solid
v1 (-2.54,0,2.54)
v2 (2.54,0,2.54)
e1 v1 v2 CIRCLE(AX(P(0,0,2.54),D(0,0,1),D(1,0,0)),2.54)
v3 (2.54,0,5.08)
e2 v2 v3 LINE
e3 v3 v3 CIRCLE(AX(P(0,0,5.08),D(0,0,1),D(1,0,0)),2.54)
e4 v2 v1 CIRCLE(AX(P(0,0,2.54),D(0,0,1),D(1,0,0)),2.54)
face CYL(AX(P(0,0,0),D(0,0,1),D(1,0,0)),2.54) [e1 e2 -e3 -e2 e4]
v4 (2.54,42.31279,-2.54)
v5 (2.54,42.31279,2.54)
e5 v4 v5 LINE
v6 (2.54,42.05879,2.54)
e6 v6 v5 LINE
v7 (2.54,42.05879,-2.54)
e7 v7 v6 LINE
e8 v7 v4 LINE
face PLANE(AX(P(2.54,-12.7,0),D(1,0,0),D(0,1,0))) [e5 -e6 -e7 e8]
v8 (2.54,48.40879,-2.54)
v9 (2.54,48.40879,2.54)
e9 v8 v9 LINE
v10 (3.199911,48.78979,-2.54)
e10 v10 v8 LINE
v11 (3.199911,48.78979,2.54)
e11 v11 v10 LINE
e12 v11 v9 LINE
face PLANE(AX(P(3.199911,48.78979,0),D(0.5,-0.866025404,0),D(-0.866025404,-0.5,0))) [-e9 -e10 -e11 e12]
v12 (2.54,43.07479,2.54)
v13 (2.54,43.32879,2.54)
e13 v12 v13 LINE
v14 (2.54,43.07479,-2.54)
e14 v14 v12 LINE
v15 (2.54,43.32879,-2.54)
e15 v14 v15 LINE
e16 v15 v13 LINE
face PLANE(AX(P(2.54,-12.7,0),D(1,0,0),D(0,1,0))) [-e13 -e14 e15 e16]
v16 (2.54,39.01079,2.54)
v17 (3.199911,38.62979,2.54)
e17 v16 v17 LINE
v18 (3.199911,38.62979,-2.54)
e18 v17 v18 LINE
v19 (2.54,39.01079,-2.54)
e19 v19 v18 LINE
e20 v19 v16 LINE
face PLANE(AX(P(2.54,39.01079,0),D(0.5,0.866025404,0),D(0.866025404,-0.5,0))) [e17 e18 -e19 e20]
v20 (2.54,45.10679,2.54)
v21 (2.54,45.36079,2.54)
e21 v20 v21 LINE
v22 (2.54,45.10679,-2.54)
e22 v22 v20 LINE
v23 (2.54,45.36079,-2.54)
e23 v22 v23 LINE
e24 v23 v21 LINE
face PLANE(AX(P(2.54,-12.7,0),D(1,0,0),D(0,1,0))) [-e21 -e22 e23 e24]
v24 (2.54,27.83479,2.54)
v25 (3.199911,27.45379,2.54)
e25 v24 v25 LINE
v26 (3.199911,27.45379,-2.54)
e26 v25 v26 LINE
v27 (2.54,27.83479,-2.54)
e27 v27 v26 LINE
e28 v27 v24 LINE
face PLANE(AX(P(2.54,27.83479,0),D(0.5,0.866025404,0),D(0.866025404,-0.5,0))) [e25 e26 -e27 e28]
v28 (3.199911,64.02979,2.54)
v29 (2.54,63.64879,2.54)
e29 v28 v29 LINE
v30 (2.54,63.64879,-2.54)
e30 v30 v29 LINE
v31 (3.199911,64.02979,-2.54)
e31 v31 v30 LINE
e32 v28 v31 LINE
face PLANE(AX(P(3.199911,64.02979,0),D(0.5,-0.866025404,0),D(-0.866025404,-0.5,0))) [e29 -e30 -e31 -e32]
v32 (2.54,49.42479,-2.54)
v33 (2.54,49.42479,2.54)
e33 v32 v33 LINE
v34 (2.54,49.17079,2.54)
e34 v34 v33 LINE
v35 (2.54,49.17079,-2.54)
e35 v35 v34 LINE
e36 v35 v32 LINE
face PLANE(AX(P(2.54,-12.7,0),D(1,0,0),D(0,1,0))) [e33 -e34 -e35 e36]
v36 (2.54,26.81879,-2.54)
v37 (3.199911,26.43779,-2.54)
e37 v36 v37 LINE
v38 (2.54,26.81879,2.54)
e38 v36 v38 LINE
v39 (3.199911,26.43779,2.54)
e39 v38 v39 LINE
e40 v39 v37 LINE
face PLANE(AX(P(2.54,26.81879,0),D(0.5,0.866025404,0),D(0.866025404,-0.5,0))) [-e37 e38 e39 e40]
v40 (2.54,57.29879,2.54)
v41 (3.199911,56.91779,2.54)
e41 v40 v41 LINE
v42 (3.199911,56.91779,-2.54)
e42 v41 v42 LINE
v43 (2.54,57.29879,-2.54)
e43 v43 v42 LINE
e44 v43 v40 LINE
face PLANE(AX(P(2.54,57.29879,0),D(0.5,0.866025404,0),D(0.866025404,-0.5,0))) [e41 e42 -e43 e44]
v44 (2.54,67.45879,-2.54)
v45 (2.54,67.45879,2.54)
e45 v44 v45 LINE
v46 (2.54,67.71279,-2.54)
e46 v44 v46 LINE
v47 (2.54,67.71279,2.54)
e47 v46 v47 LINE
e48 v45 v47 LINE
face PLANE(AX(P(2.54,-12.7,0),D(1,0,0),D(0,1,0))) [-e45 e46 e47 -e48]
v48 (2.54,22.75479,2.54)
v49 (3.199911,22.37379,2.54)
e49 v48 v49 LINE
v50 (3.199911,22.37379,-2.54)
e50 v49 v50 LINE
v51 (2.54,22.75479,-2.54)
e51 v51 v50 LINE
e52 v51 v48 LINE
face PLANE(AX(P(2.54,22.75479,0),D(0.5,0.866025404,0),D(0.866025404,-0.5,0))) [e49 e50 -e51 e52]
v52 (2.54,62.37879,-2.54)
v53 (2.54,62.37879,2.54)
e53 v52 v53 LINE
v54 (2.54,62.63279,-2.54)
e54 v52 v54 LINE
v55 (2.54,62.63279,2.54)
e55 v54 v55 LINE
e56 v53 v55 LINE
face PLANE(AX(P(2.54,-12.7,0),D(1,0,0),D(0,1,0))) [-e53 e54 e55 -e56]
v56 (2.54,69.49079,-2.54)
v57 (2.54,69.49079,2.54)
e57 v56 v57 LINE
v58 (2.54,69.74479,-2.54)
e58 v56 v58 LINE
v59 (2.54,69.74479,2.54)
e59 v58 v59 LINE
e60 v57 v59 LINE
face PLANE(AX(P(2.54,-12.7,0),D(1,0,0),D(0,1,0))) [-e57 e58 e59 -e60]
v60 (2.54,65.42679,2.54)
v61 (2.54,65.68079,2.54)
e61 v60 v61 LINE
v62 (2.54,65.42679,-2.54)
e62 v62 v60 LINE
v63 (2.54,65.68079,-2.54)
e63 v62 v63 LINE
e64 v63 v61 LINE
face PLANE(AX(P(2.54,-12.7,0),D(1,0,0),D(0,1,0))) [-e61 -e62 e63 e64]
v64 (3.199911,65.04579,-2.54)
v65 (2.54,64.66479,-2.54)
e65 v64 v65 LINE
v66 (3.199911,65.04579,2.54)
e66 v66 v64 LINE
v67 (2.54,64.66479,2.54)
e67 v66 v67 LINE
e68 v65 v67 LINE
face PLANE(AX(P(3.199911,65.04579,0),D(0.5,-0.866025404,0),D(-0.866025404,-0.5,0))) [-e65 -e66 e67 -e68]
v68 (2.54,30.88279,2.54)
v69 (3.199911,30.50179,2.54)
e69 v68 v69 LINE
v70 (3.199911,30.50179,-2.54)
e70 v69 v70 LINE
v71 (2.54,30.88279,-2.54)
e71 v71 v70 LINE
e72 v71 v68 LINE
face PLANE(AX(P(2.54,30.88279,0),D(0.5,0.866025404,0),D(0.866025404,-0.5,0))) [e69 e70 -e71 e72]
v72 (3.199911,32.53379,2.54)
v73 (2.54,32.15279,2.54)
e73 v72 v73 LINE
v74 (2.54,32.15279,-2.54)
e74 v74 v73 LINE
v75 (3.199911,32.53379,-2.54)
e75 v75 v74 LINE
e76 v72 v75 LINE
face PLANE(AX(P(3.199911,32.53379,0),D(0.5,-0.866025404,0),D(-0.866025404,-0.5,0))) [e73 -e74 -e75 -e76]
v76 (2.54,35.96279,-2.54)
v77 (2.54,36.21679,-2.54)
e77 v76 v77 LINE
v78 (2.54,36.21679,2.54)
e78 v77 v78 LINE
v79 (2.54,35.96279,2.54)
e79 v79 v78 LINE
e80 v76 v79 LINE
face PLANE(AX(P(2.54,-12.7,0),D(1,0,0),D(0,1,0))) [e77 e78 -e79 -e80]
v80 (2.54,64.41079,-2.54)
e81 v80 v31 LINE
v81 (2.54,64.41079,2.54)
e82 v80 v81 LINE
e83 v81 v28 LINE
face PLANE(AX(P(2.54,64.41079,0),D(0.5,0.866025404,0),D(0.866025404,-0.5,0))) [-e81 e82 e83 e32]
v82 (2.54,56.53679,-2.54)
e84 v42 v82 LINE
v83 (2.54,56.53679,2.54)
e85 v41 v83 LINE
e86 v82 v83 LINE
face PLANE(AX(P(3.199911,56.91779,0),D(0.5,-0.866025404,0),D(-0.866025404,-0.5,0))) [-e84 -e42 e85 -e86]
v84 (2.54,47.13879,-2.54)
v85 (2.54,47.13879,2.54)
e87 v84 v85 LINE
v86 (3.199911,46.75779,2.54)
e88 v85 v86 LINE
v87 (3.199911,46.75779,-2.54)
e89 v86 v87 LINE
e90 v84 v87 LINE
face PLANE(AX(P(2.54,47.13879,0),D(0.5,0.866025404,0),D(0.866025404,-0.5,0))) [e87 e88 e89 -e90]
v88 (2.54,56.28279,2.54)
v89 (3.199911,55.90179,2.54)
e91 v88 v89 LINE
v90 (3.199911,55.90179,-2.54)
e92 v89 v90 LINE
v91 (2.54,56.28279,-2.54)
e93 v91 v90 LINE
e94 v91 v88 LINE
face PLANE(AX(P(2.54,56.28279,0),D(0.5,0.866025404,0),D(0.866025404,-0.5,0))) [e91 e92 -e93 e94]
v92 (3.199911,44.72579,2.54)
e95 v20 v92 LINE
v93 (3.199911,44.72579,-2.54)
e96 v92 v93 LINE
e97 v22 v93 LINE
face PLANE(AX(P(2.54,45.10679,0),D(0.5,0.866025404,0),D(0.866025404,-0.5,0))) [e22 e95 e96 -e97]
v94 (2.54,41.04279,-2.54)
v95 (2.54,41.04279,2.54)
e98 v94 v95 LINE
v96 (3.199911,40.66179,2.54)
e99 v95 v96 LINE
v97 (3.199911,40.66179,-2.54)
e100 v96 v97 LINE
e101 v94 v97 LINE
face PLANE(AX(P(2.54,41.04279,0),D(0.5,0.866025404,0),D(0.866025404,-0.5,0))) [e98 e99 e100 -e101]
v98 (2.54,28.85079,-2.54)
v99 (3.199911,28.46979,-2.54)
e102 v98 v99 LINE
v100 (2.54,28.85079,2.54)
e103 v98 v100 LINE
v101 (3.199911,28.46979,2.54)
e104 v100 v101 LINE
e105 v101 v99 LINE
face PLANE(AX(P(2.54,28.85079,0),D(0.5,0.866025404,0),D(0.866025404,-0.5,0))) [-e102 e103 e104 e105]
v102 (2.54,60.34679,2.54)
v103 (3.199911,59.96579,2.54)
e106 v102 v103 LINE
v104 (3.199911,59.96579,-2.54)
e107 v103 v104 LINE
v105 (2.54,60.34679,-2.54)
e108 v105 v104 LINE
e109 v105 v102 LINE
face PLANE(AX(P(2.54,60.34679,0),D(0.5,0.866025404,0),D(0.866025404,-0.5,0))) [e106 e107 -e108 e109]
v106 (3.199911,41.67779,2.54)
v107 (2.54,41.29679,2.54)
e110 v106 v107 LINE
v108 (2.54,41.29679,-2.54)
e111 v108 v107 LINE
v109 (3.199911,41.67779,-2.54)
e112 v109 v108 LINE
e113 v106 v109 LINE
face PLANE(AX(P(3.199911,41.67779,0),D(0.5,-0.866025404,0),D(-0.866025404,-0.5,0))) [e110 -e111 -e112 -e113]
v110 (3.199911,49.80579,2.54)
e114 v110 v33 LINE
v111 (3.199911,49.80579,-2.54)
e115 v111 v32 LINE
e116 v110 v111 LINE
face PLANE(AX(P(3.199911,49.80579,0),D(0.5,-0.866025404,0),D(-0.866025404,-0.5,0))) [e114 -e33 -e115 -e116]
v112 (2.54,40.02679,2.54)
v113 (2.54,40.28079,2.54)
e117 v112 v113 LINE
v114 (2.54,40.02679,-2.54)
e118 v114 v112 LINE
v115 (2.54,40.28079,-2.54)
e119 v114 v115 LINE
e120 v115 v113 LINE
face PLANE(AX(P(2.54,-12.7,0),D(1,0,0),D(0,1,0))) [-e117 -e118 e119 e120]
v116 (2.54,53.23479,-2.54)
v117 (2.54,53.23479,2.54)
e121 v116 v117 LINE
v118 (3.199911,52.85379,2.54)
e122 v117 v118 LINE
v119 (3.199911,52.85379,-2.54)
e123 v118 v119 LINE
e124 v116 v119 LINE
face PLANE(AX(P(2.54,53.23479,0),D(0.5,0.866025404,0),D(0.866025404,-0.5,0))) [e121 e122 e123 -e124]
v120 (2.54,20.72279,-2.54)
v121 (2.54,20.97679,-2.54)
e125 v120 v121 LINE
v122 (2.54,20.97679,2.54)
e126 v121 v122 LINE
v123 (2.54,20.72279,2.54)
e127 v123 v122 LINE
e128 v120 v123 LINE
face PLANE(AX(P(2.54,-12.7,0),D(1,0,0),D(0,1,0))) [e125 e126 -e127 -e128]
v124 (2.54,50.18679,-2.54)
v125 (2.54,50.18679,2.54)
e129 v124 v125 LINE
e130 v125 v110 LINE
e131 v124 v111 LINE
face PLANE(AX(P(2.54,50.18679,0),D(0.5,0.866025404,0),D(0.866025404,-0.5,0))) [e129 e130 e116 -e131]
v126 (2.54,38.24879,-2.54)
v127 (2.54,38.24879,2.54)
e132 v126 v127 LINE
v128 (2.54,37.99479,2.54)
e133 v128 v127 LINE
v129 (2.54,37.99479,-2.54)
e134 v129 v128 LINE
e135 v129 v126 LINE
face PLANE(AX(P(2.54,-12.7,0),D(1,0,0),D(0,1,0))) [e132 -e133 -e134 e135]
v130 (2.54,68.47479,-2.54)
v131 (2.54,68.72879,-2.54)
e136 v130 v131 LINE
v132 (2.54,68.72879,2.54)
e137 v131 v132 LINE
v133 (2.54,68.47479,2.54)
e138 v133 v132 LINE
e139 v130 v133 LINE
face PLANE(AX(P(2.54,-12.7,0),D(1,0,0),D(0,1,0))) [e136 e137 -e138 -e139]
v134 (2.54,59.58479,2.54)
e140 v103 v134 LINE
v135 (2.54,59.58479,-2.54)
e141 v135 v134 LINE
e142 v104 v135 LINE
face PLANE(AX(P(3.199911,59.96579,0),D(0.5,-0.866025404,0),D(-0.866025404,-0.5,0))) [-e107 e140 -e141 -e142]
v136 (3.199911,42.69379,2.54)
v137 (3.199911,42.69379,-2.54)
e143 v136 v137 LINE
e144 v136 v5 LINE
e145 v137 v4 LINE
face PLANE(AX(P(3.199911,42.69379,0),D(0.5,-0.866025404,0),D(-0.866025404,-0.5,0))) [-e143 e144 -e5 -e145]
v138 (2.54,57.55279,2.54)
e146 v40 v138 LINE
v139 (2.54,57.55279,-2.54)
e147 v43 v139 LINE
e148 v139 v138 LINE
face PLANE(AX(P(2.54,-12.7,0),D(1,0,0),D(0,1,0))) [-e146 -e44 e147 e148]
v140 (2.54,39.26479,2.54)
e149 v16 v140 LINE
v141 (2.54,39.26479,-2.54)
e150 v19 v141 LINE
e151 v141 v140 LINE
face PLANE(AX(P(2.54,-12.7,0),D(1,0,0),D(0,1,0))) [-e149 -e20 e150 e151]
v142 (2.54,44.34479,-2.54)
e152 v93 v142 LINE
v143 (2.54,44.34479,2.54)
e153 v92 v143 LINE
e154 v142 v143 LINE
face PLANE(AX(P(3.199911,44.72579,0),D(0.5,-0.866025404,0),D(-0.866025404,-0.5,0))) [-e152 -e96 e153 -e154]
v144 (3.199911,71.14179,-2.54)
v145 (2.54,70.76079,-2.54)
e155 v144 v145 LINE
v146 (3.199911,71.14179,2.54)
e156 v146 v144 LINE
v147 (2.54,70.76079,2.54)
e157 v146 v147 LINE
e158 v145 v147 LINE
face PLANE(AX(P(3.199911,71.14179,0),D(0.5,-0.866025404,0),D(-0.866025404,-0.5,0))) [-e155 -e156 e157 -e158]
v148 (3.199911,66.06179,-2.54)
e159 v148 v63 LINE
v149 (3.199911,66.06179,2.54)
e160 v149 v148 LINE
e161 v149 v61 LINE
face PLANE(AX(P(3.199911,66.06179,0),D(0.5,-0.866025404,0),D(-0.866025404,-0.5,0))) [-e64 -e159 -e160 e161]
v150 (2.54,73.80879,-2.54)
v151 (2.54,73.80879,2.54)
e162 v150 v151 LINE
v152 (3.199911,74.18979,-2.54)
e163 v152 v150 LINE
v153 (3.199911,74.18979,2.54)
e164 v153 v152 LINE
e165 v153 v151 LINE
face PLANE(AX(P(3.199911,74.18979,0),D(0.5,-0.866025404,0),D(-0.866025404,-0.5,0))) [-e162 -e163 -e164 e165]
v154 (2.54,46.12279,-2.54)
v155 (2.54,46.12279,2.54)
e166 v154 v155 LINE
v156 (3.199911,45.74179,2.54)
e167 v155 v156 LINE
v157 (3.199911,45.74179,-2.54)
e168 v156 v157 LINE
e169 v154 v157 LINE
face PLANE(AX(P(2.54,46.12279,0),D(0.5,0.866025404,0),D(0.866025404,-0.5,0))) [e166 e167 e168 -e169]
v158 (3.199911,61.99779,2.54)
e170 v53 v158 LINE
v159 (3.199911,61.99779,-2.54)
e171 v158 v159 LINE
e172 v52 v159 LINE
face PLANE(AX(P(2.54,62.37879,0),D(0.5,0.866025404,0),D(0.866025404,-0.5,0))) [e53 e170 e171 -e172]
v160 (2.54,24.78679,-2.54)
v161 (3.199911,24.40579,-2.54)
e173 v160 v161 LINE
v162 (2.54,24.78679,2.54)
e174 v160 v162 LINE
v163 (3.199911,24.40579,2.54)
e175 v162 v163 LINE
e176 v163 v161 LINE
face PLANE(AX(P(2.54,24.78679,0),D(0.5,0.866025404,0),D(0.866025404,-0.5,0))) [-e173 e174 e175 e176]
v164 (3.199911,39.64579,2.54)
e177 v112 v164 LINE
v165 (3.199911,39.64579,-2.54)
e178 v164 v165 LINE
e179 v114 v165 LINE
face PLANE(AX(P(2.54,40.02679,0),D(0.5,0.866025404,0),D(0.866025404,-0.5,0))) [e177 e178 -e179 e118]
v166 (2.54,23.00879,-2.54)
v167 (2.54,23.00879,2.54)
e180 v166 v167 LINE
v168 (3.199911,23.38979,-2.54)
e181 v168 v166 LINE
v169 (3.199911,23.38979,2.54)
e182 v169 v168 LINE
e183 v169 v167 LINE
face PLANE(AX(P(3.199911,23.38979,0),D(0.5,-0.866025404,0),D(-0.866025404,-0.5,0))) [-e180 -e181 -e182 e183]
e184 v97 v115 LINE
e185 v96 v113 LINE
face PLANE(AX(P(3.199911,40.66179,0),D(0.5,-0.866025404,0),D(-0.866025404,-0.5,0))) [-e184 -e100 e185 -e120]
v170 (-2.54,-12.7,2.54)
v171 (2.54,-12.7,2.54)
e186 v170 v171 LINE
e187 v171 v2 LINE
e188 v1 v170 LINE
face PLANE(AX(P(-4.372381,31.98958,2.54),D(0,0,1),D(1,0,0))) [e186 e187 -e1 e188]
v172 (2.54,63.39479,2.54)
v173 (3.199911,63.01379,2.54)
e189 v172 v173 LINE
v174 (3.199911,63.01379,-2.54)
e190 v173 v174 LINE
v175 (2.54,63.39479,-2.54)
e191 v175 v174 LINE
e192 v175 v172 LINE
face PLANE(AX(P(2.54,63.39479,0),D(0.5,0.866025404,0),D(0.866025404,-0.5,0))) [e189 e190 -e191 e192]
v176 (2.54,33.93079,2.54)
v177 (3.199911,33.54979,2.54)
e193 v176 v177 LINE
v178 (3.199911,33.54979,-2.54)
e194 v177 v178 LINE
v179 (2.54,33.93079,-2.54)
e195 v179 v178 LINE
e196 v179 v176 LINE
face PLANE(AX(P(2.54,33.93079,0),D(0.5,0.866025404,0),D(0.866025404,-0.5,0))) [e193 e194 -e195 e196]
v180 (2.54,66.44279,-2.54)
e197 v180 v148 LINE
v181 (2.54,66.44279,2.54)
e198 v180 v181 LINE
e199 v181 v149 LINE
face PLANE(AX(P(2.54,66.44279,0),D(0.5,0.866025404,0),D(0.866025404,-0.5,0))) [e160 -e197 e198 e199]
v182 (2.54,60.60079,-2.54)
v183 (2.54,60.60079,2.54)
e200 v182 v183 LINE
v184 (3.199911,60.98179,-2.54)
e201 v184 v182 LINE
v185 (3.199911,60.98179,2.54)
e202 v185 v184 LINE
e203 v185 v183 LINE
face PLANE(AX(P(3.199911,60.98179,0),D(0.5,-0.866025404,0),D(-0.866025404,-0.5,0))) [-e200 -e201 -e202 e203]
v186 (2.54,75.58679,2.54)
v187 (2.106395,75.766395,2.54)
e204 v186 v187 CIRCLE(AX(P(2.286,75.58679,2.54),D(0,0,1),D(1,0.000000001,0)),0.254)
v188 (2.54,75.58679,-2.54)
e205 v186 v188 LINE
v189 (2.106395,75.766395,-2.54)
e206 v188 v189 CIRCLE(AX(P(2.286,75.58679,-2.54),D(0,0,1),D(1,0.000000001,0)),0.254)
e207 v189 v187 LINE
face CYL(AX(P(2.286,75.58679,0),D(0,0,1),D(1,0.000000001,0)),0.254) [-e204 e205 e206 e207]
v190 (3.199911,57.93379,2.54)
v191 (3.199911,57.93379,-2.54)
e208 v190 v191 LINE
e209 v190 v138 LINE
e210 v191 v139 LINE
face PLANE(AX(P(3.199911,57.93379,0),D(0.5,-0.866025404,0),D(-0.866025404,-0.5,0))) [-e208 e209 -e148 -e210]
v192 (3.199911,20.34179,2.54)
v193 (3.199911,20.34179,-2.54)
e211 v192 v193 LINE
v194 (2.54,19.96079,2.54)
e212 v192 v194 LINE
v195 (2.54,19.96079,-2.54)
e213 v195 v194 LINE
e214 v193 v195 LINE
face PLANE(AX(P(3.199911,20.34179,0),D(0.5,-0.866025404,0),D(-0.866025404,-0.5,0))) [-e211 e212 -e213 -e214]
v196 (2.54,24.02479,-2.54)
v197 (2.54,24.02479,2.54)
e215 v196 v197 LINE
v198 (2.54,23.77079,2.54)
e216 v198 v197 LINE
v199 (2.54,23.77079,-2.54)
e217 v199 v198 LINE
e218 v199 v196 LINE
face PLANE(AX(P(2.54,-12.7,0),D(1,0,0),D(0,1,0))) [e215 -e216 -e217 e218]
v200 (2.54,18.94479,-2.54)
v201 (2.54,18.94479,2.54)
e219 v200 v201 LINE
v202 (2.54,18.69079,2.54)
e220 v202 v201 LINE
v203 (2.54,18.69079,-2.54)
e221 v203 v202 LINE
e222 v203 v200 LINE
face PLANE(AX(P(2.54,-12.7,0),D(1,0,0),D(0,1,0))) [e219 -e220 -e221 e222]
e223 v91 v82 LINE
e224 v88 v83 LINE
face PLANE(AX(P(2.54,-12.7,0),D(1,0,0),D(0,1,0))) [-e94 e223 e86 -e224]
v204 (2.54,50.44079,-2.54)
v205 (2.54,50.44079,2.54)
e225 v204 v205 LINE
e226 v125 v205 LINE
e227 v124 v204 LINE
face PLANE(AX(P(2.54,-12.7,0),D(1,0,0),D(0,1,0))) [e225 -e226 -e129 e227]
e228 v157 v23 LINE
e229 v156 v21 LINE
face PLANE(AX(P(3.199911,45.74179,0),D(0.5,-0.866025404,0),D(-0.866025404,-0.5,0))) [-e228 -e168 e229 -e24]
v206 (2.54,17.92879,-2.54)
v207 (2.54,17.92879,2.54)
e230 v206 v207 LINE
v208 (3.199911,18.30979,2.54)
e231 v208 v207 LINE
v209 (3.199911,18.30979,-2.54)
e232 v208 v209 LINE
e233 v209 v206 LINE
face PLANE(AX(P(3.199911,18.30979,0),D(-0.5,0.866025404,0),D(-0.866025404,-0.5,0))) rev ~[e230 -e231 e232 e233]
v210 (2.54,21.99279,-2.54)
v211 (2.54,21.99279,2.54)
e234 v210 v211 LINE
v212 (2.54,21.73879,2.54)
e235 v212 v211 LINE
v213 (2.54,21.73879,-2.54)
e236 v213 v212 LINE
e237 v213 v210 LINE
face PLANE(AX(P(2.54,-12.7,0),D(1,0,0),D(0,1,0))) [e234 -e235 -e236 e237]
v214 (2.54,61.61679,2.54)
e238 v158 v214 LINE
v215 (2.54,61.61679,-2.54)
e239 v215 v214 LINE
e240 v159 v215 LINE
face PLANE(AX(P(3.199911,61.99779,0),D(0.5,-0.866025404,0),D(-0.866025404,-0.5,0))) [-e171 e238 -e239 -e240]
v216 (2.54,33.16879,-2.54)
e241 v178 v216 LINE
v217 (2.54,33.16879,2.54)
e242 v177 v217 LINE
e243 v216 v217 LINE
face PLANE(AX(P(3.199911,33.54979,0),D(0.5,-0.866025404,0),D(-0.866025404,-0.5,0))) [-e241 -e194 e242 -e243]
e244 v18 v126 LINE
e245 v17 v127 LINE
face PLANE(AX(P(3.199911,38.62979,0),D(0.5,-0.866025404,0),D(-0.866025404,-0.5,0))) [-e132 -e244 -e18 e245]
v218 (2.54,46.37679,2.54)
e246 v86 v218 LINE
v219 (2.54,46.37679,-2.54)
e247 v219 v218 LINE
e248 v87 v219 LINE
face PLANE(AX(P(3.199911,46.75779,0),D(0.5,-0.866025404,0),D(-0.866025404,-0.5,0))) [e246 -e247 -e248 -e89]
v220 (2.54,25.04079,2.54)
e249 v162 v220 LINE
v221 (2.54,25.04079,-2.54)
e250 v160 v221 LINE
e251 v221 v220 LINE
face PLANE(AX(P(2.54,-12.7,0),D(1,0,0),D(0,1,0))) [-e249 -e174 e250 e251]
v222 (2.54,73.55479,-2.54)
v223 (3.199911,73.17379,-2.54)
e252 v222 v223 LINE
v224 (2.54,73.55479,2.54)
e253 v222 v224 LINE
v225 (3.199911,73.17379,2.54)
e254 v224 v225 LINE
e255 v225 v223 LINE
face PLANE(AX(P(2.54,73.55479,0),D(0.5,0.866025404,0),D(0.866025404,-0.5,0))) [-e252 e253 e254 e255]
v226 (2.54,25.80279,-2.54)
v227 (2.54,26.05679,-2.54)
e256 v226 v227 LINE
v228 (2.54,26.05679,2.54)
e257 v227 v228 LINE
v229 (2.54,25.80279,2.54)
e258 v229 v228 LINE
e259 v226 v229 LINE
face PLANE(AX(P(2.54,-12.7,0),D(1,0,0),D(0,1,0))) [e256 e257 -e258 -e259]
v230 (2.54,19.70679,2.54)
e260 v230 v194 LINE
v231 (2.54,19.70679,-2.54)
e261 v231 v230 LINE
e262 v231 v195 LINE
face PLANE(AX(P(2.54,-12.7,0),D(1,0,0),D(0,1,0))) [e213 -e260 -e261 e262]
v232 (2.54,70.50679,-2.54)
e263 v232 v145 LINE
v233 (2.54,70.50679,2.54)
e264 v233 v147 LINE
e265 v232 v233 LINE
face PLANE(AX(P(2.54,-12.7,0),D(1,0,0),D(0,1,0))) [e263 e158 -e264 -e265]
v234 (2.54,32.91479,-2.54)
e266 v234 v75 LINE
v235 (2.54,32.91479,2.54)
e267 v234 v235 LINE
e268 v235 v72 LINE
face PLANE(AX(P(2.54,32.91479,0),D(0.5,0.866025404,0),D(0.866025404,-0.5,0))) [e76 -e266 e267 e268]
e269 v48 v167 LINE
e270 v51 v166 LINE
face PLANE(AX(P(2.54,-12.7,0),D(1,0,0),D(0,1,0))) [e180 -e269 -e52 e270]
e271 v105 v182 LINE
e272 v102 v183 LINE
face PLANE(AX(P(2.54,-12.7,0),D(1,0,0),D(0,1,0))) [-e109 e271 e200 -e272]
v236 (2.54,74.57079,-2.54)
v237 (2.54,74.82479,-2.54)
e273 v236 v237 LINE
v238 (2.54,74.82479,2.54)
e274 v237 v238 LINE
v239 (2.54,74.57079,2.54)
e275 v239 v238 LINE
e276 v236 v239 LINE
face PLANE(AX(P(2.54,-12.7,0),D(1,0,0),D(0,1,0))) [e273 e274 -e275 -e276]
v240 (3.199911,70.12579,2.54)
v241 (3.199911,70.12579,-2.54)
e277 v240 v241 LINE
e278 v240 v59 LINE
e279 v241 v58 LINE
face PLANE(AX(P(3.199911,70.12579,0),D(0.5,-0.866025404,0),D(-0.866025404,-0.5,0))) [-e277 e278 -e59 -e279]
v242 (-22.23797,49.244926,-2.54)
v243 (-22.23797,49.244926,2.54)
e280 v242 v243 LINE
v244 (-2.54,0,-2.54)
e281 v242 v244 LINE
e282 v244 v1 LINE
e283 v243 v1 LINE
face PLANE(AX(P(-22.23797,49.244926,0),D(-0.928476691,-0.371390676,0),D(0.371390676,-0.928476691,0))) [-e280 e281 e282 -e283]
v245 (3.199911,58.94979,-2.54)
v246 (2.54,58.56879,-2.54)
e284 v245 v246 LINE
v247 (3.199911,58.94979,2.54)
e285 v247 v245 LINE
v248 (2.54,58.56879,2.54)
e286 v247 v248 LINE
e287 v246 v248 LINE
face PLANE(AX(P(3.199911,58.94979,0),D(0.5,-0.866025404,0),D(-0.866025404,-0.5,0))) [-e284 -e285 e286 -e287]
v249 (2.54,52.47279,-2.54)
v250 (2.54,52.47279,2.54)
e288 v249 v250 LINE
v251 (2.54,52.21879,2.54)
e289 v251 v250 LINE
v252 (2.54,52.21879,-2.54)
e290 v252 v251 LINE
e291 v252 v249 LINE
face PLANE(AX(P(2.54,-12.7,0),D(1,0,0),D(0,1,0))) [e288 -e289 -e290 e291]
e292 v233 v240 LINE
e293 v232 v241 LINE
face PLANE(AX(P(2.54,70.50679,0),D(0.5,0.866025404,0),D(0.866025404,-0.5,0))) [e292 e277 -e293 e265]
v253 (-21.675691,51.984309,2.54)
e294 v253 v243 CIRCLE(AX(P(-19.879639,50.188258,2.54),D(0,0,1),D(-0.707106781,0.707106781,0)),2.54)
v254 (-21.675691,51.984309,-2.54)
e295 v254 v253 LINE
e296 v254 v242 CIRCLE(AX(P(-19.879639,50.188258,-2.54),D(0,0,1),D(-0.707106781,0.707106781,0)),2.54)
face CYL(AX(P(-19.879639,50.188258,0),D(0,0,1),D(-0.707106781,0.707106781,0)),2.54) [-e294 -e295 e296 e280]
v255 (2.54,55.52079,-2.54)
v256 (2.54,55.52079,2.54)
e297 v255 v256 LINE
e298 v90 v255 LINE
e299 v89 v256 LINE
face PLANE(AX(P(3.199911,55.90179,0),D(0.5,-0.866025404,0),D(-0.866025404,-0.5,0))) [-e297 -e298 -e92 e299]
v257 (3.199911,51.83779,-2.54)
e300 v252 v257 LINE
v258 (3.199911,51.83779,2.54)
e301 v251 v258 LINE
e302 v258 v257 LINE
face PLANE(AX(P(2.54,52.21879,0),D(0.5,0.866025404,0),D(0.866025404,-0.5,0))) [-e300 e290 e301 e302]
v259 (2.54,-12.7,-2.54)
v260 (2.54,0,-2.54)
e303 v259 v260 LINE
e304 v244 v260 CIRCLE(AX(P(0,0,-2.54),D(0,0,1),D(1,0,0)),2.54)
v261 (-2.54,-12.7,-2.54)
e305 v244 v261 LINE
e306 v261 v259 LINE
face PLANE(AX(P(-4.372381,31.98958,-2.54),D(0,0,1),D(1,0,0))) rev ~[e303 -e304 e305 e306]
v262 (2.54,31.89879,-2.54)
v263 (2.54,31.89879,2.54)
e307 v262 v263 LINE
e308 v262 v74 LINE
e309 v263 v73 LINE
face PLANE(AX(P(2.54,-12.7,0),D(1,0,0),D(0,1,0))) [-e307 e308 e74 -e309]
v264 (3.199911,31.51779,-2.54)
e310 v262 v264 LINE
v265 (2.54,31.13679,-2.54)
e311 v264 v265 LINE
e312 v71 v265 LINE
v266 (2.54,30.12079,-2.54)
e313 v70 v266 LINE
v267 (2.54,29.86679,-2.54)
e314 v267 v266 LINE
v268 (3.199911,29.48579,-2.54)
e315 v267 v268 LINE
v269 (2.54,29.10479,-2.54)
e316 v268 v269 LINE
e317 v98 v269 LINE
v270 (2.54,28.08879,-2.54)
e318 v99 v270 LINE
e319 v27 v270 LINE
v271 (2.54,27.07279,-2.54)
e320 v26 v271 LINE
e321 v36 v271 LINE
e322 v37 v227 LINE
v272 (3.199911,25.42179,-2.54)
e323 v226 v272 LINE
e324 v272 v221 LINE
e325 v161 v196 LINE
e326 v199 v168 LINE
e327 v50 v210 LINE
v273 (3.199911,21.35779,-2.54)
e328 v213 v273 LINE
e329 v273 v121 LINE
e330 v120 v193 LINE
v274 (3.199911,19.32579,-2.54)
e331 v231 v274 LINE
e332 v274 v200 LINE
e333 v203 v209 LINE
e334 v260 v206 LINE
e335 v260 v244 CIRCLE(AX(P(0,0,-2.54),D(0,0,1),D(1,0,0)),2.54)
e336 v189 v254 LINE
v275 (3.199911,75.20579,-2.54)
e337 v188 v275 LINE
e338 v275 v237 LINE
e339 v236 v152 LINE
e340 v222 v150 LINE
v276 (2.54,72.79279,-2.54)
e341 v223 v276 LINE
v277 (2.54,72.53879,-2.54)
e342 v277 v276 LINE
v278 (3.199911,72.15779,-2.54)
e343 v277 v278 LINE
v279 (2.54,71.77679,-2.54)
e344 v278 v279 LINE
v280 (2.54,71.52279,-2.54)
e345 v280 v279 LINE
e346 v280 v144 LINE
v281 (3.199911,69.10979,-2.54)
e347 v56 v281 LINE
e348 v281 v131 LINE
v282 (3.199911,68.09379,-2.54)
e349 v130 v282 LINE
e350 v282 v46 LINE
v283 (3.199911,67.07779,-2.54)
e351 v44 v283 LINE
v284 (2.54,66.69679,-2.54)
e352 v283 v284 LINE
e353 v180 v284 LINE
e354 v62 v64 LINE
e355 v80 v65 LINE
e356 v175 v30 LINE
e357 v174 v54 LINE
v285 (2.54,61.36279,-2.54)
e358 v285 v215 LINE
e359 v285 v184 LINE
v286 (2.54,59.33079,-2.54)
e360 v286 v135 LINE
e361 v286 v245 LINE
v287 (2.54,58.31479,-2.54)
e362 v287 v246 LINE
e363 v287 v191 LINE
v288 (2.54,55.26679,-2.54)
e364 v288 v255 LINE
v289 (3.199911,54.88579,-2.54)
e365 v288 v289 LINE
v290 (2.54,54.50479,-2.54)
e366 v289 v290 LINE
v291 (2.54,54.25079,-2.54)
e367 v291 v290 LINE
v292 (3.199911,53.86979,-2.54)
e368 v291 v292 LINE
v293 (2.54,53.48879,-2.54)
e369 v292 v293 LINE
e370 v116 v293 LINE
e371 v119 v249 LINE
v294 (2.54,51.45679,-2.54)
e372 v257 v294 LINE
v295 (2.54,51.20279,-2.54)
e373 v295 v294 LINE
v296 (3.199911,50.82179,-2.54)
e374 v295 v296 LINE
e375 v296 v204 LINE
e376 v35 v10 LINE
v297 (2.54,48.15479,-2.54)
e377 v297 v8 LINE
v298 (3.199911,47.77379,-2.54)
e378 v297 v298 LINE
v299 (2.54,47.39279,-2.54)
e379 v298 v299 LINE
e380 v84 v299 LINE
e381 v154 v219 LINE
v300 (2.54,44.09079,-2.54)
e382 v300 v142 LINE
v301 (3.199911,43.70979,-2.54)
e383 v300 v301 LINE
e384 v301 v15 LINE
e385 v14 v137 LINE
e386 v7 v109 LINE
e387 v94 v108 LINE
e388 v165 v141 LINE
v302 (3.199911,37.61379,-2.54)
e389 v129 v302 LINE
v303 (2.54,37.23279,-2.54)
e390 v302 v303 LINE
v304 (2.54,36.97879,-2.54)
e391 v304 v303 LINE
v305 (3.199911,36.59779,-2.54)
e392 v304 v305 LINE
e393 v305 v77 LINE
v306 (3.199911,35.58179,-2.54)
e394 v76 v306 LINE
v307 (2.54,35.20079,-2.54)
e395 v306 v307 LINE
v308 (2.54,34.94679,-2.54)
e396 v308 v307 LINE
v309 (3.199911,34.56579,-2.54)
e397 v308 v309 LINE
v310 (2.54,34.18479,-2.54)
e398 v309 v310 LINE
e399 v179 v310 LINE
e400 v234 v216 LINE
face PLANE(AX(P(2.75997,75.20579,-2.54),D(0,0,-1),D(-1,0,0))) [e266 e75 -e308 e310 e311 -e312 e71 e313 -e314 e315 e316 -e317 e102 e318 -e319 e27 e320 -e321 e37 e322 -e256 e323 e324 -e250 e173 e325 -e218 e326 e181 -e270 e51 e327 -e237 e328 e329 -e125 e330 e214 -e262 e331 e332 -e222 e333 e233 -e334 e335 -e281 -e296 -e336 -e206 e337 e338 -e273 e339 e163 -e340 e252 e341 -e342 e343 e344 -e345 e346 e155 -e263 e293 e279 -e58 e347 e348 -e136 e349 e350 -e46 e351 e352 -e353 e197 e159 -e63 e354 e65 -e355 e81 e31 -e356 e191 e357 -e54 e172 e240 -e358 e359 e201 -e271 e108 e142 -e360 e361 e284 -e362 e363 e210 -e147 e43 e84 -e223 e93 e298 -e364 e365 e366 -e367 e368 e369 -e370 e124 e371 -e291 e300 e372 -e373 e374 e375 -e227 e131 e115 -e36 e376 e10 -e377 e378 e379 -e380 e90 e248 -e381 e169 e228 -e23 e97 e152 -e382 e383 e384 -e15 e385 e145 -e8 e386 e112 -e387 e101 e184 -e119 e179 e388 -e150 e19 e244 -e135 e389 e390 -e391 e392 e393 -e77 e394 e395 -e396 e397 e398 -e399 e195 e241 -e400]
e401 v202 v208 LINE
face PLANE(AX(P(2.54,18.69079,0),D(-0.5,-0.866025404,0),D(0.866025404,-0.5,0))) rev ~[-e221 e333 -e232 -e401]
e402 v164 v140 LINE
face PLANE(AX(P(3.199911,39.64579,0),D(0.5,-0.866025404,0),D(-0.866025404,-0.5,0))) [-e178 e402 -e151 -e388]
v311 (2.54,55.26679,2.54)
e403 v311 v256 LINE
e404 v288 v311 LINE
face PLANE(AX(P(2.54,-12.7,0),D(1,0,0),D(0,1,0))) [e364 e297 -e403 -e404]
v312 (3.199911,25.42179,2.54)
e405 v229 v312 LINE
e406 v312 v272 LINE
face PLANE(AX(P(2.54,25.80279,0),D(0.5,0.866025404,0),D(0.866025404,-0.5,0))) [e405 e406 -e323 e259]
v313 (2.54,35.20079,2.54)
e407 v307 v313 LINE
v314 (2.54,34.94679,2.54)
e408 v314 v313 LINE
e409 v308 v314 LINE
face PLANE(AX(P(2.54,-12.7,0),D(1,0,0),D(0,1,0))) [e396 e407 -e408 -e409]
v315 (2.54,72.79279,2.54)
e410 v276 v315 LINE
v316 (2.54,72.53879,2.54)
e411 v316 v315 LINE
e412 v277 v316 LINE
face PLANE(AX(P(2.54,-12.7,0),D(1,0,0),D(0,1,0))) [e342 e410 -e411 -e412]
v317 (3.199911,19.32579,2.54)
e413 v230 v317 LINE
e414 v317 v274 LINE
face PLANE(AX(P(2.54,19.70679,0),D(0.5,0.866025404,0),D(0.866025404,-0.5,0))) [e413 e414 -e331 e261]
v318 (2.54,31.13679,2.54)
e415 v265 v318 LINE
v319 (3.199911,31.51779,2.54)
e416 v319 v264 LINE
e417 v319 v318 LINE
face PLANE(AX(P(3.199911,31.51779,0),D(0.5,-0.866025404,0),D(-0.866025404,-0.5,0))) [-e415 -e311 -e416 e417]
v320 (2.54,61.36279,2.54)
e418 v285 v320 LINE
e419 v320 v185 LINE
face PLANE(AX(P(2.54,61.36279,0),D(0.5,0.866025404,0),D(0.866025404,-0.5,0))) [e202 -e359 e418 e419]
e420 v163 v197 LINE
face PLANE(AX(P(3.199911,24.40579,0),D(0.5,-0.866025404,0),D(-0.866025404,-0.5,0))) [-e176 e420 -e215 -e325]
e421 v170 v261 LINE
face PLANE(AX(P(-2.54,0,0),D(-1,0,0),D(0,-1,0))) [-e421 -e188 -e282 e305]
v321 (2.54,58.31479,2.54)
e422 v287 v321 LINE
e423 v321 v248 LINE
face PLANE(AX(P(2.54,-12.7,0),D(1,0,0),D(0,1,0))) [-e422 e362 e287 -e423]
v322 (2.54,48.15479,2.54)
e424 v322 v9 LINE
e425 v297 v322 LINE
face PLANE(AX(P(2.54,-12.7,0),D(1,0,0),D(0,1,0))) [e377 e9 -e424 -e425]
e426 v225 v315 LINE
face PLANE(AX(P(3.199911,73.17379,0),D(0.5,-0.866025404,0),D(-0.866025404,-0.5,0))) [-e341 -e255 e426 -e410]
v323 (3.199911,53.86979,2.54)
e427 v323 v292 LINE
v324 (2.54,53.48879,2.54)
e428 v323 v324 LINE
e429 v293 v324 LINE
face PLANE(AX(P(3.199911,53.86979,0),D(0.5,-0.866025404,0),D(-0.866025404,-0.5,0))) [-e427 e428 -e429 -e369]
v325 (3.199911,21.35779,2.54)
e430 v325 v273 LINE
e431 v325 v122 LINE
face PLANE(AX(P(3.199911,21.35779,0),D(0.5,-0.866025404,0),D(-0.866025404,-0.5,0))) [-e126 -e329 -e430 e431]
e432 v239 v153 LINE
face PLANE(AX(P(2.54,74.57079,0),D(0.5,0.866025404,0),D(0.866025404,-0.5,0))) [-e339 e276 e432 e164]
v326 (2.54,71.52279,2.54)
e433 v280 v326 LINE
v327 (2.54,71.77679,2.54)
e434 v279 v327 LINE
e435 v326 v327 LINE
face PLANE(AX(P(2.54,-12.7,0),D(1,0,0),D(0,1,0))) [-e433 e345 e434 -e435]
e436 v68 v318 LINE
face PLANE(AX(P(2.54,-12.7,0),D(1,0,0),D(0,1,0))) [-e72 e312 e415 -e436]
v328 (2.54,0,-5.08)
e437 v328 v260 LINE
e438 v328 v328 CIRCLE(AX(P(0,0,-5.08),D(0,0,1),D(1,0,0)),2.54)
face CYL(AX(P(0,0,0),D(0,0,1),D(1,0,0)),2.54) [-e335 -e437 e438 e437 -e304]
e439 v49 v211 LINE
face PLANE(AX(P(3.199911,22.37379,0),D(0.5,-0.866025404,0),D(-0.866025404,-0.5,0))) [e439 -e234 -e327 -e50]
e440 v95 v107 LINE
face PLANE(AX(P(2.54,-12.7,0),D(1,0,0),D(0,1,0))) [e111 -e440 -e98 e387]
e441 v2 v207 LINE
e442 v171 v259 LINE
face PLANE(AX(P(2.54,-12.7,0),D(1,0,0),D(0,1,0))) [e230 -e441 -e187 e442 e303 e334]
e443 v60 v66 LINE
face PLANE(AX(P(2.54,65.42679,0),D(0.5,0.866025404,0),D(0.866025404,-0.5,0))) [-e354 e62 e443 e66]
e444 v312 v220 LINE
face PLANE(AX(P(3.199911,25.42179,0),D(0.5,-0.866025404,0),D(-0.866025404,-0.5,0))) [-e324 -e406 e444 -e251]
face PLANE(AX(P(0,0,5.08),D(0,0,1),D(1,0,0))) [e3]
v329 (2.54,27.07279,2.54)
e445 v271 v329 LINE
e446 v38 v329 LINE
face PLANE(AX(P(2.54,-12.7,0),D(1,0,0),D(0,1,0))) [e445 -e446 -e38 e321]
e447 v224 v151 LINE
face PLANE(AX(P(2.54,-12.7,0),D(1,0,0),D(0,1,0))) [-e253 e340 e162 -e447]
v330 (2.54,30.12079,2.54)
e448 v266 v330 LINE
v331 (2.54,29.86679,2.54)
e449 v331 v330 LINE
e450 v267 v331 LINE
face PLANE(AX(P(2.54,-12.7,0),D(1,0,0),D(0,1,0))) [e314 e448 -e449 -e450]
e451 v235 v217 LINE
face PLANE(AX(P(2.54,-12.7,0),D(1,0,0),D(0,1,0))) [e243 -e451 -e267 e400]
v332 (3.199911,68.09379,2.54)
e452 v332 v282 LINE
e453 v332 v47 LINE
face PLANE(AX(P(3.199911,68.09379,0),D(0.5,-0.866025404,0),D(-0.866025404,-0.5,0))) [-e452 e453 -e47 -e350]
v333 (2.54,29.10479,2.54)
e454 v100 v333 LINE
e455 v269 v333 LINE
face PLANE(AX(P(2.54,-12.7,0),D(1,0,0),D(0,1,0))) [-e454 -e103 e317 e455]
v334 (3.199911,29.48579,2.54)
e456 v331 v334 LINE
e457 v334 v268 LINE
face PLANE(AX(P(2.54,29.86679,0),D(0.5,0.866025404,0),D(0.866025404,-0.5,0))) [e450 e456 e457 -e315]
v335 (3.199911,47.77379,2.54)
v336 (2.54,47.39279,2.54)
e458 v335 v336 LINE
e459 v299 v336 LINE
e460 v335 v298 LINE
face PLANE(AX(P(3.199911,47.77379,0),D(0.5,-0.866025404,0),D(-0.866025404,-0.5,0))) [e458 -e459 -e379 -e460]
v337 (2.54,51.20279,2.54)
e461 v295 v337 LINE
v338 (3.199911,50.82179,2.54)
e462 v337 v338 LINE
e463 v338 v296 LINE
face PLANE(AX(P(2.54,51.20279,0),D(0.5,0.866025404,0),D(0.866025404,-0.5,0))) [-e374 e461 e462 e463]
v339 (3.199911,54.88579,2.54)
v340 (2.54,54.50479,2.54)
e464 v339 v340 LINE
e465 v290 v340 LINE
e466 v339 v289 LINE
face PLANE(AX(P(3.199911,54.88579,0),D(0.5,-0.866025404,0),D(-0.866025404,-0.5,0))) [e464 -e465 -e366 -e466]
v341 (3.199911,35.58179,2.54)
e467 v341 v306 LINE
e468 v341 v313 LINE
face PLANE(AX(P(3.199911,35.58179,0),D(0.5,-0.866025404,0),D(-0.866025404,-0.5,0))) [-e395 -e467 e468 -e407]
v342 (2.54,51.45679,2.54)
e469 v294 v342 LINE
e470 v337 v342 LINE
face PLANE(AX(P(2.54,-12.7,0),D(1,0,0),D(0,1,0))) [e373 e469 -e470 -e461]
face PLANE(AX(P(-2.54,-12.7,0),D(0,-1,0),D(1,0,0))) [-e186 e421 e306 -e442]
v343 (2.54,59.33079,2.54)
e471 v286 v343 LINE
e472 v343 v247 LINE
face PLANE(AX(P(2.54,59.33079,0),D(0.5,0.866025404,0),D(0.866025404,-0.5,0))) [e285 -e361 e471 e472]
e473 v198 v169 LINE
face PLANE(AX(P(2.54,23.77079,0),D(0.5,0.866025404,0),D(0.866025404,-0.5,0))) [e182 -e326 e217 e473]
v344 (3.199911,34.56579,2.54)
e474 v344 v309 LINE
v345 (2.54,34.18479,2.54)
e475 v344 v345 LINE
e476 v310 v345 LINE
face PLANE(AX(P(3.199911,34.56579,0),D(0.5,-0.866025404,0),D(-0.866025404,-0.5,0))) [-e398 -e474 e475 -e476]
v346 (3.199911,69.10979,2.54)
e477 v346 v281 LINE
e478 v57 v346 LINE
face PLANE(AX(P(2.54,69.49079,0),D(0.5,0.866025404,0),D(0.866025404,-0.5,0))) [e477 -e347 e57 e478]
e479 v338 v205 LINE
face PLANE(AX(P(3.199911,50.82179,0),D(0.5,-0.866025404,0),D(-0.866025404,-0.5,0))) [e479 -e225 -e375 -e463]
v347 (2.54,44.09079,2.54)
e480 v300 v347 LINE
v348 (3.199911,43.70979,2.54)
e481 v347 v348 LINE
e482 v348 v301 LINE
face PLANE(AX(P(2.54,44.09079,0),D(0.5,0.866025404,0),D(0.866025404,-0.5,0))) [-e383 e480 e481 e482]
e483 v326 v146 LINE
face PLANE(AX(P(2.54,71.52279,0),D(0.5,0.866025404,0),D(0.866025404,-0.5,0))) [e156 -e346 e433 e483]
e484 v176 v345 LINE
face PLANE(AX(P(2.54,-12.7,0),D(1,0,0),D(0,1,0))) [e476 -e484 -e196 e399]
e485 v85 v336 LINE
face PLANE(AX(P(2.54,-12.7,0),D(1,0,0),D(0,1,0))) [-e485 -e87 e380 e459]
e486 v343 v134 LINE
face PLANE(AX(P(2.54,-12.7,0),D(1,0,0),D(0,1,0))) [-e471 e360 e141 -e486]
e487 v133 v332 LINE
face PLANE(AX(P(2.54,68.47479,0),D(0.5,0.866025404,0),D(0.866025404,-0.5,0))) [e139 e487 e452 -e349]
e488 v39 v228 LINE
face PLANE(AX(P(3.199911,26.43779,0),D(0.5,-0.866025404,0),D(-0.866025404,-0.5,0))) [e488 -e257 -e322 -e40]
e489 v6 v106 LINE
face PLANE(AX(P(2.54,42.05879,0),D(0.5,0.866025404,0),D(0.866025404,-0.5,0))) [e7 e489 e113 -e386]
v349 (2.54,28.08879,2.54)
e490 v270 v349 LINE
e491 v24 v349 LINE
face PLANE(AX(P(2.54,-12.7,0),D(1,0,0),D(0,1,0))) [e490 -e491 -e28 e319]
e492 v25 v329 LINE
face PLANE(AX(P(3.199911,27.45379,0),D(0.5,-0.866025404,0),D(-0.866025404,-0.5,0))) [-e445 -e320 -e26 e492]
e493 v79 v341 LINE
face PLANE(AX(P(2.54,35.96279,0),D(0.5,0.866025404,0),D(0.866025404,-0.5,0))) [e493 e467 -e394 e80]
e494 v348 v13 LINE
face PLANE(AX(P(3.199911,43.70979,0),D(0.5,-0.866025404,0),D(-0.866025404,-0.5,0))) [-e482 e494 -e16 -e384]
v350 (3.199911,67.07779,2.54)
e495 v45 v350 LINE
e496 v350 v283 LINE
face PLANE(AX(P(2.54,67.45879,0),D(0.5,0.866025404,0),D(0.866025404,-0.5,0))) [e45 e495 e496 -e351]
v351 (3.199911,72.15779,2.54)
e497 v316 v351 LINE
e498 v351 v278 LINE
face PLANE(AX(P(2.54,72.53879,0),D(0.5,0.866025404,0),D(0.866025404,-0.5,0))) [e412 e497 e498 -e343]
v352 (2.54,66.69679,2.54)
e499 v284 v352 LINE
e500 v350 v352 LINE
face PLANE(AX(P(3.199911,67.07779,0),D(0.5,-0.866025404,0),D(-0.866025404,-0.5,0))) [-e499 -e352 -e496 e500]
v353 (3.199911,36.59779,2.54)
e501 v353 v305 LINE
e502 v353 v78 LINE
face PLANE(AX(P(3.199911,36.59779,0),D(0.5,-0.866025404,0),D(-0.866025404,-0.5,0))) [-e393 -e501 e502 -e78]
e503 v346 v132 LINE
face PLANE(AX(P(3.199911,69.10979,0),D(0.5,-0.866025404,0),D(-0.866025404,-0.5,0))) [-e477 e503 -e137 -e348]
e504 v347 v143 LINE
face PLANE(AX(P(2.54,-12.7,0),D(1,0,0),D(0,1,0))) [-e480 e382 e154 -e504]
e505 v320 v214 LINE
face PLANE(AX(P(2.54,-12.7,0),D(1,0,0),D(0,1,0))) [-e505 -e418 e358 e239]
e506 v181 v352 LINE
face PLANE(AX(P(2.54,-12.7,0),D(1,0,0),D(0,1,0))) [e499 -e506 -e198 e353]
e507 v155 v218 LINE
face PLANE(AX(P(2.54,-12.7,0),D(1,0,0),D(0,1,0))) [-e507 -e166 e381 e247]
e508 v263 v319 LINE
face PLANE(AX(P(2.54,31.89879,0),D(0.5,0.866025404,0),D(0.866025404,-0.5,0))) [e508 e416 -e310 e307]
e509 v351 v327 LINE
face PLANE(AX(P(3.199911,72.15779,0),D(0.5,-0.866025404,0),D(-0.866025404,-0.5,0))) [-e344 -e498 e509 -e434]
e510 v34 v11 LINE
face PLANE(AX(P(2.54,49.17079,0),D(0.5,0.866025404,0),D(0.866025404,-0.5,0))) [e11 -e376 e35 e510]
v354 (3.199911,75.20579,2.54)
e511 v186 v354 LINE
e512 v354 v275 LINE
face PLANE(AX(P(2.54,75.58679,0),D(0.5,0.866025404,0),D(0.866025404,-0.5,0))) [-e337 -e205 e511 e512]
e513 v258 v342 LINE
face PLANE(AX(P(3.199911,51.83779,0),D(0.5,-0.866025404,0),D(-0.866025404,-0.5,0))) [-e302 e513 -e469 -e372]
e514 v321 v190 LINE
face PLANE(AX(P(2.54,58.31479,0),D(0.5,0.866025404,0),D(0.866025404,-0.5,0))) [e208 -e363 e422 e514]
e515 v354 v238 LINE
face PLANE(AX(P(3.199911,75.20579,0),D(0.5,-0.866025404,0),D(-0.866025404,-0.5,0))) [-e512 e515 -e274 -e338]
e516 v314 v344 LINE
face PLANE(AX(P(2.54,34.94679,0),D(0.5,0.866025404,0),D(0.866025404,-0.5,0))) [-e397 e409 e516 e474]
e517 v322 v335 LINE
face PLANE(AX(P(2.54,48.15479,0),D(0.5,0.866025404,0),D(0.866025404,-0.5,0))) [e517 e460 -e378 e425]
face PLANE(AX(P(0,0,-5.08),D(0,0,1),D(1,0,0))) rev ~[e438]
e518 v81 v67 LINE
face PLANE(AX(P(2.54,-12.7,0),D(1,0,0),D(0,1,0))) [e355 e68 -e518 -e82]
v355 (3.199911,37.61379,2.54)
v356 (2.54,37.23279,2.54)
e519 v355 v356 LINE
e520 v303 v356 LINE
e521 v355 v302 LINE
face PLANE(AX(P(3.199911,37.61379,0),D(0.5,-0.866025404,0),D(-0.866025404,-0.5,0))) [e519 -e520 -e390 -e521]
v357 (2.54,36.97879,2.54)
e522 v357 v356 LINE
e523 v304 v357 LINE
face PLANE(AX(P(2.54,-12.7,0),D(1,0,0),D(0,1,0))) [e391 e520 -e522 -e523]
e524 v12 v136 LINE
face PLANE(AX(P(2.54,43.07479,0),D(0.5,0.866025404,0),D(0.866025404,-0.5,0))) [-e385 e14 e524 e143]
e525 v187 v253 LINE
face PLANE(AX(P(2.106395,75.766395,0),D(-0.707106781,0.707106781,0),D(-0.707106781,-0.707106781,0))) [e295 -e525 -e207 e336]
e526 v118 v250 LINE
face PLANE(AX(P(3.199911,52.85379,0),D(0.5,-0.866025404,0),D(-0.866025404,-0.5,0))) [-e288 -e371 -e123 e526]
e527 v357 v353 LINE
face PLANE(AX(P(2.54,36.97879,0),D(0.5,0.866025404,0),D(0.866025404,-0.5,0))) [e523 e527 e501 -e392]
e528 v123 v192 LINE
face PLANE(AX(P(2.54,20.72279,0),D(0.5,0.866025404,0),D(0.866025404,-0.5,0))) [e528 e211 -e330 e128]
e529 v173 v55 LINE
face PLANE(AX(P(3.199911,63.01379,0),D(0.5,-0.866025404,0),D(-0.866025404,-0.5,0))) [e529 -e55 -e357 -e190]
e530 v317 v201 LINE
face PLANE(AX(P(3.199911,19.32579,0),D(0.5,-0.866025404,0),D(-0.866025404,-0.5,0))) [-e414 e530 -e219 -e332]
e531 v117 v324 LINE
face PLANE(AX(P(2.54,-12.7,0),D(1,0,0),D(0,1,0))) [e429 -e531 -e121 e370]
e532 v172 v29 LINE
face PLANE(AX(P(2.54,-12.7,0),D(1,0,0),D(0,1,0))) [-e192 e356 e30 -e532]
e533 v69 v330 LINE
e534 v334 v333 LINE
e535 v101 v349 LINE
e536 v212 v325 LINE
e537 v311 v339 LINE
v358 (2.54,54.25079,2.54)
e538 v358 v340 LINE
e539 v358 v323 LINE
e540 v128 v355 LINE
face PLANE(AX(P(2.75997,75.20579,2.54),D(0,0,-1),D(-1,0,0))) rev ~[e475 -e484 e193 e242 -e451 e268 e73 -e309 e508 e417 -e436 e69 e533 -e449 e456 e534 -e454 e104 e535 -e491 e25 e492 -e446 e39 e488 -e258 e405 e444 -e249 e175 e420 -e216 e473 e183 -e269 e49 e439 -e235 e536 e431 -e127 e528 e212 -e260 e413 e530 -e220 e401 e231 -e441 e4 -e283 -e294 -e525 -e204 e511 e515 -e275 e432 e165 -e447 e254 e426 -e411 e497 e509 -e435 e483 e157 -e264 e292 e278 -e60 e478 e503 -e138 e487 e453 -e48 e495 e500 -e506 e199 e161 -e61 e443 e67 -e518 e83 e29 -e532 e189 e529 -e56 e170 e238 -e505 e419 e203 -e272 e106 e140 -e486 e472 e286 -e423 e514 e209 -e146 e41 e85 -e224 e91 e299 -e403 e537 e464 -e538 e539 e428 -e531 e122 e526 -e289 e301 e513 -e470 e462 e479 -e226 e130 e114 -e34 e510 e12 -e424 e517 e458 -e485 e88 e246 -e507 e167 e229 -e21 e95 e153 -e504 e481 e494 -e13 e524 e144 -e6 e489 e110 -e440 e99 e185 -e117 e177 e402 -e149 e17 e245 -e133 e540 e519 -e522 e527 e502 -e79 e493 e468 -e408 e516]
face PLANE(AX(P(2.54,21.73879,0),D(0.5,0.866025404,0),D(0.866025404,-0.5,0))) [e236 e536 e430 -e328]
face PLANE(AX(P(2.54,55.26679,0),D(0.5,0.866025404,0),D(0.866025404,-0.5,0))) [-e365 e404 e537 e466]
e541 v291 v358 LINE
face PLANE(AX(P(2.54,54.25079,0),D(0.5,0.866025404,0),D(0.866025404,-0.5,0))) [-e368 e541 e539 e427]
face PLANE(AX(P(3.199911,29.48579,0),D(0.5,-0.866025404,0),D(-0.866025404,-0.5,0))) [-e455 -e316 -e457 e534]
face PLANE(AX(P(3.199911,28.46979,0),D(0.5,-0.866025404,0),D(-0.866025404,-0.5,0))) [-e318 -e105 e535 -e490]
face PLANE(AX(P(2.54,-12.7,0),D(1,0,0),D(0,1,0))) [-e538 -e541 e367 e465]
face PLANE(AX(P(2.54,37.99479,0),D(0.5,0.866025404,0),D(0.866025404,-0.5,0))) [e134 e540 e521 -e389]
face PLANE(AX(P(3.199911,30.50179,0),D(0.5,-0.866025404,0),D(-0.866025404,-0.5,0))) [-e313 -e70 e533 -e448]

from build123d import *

# Parameters (mm, degrees)
SKETCH1_R           = 2.54
BOSS_EXTRUDE1_DEPTH = 5.08
BOSS_EXTRUDE2_DEPTH = 2.54
BOSS_EXTRUDE3_DEPTH = 2.54


with BuildPart() as part:
    # Sketch1 → Boss-Extrude1 (new, symmetric)
    with BuildSketch(Plane.XY):
        Circle(SKETCH1_R)
    extrude(amount=BOSS_EXTRUDE1_DEPTH, both=True)

    # Sketch2 → Boss-Extrude2 (add, symmetric)
    with BuildSketch(Plane.XY):
        with BuildLine():
            Line((2.54, 0), (2.54, 75.586789755))
            ThreePointArc((2.54, 75.586789755), (2.383201592, 75.821455156), (2.106394878, 75.766394878))
            Line((2.106394878, 75.766394878), (-21.675690723, 51.984309277))
            ThreePointArc((-21.675690723, 51.984309277), (-22.367766915, 50.698965368), (-22.237970294, 49.244925735))
            Line((-22.237970294, 49.244925735), (-2.54, 0))
            Line((-2.54, 0), (-2.54, -12.7))
            Line((-2.54, -12.7), (2.54, -12.7))
            Line((2.54, -12.7), (2.54, 0))
        make_face()
    extrude(amount=BOSS_EXTRUDE2_DEPTH, both=True)

    # Sketch3 → Boss-Extrude3 (add, symmetric)
    with BuildSketch(Plane.XY):
        Polygon((2.54, 75.586789755), (3.199911358, 75.205789755), (2.54, 74.824789755), align=None)
        Polygon((2.54, 74.570789755), (3.199911358, 74.189789755), (2.54, 73.808789755), align=None)
        Polygon((2.54, 73.554789755), (3.199911358, 73.173789755), (2.54, 72.792789755), align=None)
        Polygon((2.54, 72.538789755), (3.199911358, 72.157789755), (2.54, 71.776789755), align=None)
        Polygon((2.54, 71.522789755), (3.199911358, 71.141789755), (2.54, 70.760789755), align=None)
        Polygon((2.54, 70.506789755), (3.199911358, 70.125789755), (2.54, 69.744789755), align=None)
        Polygon((2.54, 69.490789755), (3.199911358, 69.109789755), (2.54, 68.728789755), align=None)
        Polygon((2.54, 68.474789755), (3.199911358, 68.093789755), (2.54, 67.712789755), align=None)
        Polygon((2.54, 67.458789755), (3.199911358, 67.077789755), (2.54, 66.696789755), align=None)
        Polygon((2.54, 66.442789755), (3.199911358, 66.061789755), (2.54, 65.680789755), align=None)
        Polygon((2.54, 65.426789755), (3.199911358, 65.045789755), (2.54, 64.664789755), align=None)
        Polygon((2.54, 64.410789755), (3.199911358, 64.029789755), (2.54, 63.648789755), align=None)
        Polygon((2.54, 63.394789755), (3.199911358, 63.013789755), (2.54, 62.632789755), align=None)
        Polygon((2.54, 62.378789755), (3.199911358, 61.997789755), (2.54, 61.616789755), align=None)
        Polygon((2.54, 61.362789755), (3.199911358, 60.981789755), (2.54, 60.600789755), align=None)
        Polygon((2.54, 60.346789755), (3.199911358, 59.965789755), (2.54, 59.584789755), align=None)
        Polygon((2.54, 59.330789755), (3.199911358, 58.949789755), (2.54, 58.568789755), align=None)
        Polygon((2.54, 58.314789755), (3.199911358, 57.933789755), (2.54, 57.552789755), align=None)
        Polygon((2.54, 57.298789755), (3.199911358, 56.917789755), (2.54, 56.536789755), align=None)
        Polygon((2.54, 56.282789755), (3.199911358, 55.901789755), (2.54, 55.520789755), align=None)
        Polygon((2.54, 55.266789755), (3.199911358, 54.885789755), (2.54, 54.504789755), align=None)
        Polygon((2.54, 54.250789755), (3.199911358, 53.869789755), (2.54, 53.488789755), align=None)
        Polygon((2.54, 53.234789755), (3.199911358, 52.853789755), (2.54, 52.472789755), align=None)
        Polygon((2.54, 52.218789755), (3.199911358, 51.837789755), (2.54, 51.456789755), align=None)
        Polygon((2.54, 51.202789755), (3.199911358, 50.821789755), (2.54, 50.440789755), align=None)
        Polygon((2.54, 50.186789755), (3.199911358, 49.805789755), (2.54, 49.424789755), align=None)
        Polygon((2.54, 49.170789755), (3.199911358, 48.789789755), (2.54, 48.408789755), align=None)
        Polygon((2.54, 48.154789755), (3.199911358, 47.773789755), (2.54, 47.392789755), align=None)
        Polygon((2.54, 47.138789755), (3.199911358, 46.757789755), (2.54, 46.376789755), align=None)
        Polygon((2.54, 46.122789755), (3.199911358, 45.741789755), (2.54, 45.360789755), align=None)
        Polygon((2.54, 45.106789755), (3.199911358, 44.725789755), (2.54, 44.344789755), align=None)
        Polygon((2.54, 44.090789755), (3.199911358, 43.709789755), (2.54, 43.328789755), align=None)
        Polygon((2.54, 43.074789755), (3.199911358, 42.693789755), (2.54, 42.312789755), align=None)
        Polygon((2.54, 42.058789755), (3.199911358, 41.677789755), (2.54, 41.296789755), align=None)
        Polygon((2.54, 41.042789755), (3.199911358, 40.661789755), (2.54, 40.280789755), align=None)
        Polygon((2.54, 40.026789755), (3.199911358, 39.645789755), (2.54, 39.264789755), align=None)
        Polygon((2.54, 39.010789755), (3.199911358, 38.629789755), (2.54, 38.248789755), align=None)
        Polygon((2.54, 37.994789755), (3.199911358, 37.613789755), (2.54, 37.232789755), align=None)
        Polygon((2.54, 36.978789755), (3.199911358, 36.597789755), (2.54, 36.216789755), align=None)
        Polygon((2.54, 35.962789755), (3.199911358, 35.581789755), (2.54, 35.200789755), align=None)
        Polygon((2.54, 34.946789755), (3.199911358, 34.565789755), (2.54, 34.184789755), align=None)
        Polygon((2.54, 33.930789755), (3.199911358, 33.549789755), (2.54, 33.168789755), align=None)
        Polygon((2.54, 32.914789755), (3.199911358, 32.533789755), (2.54, 32.152789755), align=None)
        Polygon((2.54, 31.898789755), (3.199911358, 31.517789755), (2.54, 31.136789755), align=None)
        Polygon((2.54, 30.882789755), (3.199911358, 30.501789755), (2.54, 30.120789755), align=None)
        Polygon((2.54, 29.866789755), (3.199911358, 29.485789755), (2.54, 29.104789755), align=None)
        Polygon((2.54, 28.850789755), (3.199911358, 28.469789755), (2.54, 28.088789755), align=None)
        Polygon((2.54, 27.834789755), (3.199911358, 27.453789755), (2.54, 27.072789755), align=None)
        Polygon((2.54, 26.818789755), (3.199911358, 26.437789755), (2.54, 26.056789755), align=None)
        Polygon((2.54, 25.802789755), (3.199911358, 25.421789755), (2.54, 25.040789755), align=None)
        Polygon((2.54, 24.786789755), (3.199911358, 24.405789755), (2.54, 24.024789755), align=None)
        Polygon((2.54, 23.770789755), (3.199911358, 23.389789755), (2.54, 23.008789755), align=None)
        Polygon((2.54, 22.754789755), (3.199911358, 22.373789755), (2.54, 21.992789755), align=None)
        Polygon((2.54, 21.738789755), (3.199911358, 21.357789755), (2.54, 20.976789755), align=None)
        Polygon((2.54, 20.722789755), (3.199911358, 20.341789755), (2.54, 19.960789755), align=None)
        Polygon((2.54, 19.706789755), (3.199911358, 19.325789755), (2.54, 18.944789755), align=None)
        Polygon((2.54, 18.690789755), (3.199911358, 18.309789755), (2.54, 17.928789755), align=None)
    extrude(amount=BOSS_EXTRUDE3_DEPTH, both=True)


solid = part.part
